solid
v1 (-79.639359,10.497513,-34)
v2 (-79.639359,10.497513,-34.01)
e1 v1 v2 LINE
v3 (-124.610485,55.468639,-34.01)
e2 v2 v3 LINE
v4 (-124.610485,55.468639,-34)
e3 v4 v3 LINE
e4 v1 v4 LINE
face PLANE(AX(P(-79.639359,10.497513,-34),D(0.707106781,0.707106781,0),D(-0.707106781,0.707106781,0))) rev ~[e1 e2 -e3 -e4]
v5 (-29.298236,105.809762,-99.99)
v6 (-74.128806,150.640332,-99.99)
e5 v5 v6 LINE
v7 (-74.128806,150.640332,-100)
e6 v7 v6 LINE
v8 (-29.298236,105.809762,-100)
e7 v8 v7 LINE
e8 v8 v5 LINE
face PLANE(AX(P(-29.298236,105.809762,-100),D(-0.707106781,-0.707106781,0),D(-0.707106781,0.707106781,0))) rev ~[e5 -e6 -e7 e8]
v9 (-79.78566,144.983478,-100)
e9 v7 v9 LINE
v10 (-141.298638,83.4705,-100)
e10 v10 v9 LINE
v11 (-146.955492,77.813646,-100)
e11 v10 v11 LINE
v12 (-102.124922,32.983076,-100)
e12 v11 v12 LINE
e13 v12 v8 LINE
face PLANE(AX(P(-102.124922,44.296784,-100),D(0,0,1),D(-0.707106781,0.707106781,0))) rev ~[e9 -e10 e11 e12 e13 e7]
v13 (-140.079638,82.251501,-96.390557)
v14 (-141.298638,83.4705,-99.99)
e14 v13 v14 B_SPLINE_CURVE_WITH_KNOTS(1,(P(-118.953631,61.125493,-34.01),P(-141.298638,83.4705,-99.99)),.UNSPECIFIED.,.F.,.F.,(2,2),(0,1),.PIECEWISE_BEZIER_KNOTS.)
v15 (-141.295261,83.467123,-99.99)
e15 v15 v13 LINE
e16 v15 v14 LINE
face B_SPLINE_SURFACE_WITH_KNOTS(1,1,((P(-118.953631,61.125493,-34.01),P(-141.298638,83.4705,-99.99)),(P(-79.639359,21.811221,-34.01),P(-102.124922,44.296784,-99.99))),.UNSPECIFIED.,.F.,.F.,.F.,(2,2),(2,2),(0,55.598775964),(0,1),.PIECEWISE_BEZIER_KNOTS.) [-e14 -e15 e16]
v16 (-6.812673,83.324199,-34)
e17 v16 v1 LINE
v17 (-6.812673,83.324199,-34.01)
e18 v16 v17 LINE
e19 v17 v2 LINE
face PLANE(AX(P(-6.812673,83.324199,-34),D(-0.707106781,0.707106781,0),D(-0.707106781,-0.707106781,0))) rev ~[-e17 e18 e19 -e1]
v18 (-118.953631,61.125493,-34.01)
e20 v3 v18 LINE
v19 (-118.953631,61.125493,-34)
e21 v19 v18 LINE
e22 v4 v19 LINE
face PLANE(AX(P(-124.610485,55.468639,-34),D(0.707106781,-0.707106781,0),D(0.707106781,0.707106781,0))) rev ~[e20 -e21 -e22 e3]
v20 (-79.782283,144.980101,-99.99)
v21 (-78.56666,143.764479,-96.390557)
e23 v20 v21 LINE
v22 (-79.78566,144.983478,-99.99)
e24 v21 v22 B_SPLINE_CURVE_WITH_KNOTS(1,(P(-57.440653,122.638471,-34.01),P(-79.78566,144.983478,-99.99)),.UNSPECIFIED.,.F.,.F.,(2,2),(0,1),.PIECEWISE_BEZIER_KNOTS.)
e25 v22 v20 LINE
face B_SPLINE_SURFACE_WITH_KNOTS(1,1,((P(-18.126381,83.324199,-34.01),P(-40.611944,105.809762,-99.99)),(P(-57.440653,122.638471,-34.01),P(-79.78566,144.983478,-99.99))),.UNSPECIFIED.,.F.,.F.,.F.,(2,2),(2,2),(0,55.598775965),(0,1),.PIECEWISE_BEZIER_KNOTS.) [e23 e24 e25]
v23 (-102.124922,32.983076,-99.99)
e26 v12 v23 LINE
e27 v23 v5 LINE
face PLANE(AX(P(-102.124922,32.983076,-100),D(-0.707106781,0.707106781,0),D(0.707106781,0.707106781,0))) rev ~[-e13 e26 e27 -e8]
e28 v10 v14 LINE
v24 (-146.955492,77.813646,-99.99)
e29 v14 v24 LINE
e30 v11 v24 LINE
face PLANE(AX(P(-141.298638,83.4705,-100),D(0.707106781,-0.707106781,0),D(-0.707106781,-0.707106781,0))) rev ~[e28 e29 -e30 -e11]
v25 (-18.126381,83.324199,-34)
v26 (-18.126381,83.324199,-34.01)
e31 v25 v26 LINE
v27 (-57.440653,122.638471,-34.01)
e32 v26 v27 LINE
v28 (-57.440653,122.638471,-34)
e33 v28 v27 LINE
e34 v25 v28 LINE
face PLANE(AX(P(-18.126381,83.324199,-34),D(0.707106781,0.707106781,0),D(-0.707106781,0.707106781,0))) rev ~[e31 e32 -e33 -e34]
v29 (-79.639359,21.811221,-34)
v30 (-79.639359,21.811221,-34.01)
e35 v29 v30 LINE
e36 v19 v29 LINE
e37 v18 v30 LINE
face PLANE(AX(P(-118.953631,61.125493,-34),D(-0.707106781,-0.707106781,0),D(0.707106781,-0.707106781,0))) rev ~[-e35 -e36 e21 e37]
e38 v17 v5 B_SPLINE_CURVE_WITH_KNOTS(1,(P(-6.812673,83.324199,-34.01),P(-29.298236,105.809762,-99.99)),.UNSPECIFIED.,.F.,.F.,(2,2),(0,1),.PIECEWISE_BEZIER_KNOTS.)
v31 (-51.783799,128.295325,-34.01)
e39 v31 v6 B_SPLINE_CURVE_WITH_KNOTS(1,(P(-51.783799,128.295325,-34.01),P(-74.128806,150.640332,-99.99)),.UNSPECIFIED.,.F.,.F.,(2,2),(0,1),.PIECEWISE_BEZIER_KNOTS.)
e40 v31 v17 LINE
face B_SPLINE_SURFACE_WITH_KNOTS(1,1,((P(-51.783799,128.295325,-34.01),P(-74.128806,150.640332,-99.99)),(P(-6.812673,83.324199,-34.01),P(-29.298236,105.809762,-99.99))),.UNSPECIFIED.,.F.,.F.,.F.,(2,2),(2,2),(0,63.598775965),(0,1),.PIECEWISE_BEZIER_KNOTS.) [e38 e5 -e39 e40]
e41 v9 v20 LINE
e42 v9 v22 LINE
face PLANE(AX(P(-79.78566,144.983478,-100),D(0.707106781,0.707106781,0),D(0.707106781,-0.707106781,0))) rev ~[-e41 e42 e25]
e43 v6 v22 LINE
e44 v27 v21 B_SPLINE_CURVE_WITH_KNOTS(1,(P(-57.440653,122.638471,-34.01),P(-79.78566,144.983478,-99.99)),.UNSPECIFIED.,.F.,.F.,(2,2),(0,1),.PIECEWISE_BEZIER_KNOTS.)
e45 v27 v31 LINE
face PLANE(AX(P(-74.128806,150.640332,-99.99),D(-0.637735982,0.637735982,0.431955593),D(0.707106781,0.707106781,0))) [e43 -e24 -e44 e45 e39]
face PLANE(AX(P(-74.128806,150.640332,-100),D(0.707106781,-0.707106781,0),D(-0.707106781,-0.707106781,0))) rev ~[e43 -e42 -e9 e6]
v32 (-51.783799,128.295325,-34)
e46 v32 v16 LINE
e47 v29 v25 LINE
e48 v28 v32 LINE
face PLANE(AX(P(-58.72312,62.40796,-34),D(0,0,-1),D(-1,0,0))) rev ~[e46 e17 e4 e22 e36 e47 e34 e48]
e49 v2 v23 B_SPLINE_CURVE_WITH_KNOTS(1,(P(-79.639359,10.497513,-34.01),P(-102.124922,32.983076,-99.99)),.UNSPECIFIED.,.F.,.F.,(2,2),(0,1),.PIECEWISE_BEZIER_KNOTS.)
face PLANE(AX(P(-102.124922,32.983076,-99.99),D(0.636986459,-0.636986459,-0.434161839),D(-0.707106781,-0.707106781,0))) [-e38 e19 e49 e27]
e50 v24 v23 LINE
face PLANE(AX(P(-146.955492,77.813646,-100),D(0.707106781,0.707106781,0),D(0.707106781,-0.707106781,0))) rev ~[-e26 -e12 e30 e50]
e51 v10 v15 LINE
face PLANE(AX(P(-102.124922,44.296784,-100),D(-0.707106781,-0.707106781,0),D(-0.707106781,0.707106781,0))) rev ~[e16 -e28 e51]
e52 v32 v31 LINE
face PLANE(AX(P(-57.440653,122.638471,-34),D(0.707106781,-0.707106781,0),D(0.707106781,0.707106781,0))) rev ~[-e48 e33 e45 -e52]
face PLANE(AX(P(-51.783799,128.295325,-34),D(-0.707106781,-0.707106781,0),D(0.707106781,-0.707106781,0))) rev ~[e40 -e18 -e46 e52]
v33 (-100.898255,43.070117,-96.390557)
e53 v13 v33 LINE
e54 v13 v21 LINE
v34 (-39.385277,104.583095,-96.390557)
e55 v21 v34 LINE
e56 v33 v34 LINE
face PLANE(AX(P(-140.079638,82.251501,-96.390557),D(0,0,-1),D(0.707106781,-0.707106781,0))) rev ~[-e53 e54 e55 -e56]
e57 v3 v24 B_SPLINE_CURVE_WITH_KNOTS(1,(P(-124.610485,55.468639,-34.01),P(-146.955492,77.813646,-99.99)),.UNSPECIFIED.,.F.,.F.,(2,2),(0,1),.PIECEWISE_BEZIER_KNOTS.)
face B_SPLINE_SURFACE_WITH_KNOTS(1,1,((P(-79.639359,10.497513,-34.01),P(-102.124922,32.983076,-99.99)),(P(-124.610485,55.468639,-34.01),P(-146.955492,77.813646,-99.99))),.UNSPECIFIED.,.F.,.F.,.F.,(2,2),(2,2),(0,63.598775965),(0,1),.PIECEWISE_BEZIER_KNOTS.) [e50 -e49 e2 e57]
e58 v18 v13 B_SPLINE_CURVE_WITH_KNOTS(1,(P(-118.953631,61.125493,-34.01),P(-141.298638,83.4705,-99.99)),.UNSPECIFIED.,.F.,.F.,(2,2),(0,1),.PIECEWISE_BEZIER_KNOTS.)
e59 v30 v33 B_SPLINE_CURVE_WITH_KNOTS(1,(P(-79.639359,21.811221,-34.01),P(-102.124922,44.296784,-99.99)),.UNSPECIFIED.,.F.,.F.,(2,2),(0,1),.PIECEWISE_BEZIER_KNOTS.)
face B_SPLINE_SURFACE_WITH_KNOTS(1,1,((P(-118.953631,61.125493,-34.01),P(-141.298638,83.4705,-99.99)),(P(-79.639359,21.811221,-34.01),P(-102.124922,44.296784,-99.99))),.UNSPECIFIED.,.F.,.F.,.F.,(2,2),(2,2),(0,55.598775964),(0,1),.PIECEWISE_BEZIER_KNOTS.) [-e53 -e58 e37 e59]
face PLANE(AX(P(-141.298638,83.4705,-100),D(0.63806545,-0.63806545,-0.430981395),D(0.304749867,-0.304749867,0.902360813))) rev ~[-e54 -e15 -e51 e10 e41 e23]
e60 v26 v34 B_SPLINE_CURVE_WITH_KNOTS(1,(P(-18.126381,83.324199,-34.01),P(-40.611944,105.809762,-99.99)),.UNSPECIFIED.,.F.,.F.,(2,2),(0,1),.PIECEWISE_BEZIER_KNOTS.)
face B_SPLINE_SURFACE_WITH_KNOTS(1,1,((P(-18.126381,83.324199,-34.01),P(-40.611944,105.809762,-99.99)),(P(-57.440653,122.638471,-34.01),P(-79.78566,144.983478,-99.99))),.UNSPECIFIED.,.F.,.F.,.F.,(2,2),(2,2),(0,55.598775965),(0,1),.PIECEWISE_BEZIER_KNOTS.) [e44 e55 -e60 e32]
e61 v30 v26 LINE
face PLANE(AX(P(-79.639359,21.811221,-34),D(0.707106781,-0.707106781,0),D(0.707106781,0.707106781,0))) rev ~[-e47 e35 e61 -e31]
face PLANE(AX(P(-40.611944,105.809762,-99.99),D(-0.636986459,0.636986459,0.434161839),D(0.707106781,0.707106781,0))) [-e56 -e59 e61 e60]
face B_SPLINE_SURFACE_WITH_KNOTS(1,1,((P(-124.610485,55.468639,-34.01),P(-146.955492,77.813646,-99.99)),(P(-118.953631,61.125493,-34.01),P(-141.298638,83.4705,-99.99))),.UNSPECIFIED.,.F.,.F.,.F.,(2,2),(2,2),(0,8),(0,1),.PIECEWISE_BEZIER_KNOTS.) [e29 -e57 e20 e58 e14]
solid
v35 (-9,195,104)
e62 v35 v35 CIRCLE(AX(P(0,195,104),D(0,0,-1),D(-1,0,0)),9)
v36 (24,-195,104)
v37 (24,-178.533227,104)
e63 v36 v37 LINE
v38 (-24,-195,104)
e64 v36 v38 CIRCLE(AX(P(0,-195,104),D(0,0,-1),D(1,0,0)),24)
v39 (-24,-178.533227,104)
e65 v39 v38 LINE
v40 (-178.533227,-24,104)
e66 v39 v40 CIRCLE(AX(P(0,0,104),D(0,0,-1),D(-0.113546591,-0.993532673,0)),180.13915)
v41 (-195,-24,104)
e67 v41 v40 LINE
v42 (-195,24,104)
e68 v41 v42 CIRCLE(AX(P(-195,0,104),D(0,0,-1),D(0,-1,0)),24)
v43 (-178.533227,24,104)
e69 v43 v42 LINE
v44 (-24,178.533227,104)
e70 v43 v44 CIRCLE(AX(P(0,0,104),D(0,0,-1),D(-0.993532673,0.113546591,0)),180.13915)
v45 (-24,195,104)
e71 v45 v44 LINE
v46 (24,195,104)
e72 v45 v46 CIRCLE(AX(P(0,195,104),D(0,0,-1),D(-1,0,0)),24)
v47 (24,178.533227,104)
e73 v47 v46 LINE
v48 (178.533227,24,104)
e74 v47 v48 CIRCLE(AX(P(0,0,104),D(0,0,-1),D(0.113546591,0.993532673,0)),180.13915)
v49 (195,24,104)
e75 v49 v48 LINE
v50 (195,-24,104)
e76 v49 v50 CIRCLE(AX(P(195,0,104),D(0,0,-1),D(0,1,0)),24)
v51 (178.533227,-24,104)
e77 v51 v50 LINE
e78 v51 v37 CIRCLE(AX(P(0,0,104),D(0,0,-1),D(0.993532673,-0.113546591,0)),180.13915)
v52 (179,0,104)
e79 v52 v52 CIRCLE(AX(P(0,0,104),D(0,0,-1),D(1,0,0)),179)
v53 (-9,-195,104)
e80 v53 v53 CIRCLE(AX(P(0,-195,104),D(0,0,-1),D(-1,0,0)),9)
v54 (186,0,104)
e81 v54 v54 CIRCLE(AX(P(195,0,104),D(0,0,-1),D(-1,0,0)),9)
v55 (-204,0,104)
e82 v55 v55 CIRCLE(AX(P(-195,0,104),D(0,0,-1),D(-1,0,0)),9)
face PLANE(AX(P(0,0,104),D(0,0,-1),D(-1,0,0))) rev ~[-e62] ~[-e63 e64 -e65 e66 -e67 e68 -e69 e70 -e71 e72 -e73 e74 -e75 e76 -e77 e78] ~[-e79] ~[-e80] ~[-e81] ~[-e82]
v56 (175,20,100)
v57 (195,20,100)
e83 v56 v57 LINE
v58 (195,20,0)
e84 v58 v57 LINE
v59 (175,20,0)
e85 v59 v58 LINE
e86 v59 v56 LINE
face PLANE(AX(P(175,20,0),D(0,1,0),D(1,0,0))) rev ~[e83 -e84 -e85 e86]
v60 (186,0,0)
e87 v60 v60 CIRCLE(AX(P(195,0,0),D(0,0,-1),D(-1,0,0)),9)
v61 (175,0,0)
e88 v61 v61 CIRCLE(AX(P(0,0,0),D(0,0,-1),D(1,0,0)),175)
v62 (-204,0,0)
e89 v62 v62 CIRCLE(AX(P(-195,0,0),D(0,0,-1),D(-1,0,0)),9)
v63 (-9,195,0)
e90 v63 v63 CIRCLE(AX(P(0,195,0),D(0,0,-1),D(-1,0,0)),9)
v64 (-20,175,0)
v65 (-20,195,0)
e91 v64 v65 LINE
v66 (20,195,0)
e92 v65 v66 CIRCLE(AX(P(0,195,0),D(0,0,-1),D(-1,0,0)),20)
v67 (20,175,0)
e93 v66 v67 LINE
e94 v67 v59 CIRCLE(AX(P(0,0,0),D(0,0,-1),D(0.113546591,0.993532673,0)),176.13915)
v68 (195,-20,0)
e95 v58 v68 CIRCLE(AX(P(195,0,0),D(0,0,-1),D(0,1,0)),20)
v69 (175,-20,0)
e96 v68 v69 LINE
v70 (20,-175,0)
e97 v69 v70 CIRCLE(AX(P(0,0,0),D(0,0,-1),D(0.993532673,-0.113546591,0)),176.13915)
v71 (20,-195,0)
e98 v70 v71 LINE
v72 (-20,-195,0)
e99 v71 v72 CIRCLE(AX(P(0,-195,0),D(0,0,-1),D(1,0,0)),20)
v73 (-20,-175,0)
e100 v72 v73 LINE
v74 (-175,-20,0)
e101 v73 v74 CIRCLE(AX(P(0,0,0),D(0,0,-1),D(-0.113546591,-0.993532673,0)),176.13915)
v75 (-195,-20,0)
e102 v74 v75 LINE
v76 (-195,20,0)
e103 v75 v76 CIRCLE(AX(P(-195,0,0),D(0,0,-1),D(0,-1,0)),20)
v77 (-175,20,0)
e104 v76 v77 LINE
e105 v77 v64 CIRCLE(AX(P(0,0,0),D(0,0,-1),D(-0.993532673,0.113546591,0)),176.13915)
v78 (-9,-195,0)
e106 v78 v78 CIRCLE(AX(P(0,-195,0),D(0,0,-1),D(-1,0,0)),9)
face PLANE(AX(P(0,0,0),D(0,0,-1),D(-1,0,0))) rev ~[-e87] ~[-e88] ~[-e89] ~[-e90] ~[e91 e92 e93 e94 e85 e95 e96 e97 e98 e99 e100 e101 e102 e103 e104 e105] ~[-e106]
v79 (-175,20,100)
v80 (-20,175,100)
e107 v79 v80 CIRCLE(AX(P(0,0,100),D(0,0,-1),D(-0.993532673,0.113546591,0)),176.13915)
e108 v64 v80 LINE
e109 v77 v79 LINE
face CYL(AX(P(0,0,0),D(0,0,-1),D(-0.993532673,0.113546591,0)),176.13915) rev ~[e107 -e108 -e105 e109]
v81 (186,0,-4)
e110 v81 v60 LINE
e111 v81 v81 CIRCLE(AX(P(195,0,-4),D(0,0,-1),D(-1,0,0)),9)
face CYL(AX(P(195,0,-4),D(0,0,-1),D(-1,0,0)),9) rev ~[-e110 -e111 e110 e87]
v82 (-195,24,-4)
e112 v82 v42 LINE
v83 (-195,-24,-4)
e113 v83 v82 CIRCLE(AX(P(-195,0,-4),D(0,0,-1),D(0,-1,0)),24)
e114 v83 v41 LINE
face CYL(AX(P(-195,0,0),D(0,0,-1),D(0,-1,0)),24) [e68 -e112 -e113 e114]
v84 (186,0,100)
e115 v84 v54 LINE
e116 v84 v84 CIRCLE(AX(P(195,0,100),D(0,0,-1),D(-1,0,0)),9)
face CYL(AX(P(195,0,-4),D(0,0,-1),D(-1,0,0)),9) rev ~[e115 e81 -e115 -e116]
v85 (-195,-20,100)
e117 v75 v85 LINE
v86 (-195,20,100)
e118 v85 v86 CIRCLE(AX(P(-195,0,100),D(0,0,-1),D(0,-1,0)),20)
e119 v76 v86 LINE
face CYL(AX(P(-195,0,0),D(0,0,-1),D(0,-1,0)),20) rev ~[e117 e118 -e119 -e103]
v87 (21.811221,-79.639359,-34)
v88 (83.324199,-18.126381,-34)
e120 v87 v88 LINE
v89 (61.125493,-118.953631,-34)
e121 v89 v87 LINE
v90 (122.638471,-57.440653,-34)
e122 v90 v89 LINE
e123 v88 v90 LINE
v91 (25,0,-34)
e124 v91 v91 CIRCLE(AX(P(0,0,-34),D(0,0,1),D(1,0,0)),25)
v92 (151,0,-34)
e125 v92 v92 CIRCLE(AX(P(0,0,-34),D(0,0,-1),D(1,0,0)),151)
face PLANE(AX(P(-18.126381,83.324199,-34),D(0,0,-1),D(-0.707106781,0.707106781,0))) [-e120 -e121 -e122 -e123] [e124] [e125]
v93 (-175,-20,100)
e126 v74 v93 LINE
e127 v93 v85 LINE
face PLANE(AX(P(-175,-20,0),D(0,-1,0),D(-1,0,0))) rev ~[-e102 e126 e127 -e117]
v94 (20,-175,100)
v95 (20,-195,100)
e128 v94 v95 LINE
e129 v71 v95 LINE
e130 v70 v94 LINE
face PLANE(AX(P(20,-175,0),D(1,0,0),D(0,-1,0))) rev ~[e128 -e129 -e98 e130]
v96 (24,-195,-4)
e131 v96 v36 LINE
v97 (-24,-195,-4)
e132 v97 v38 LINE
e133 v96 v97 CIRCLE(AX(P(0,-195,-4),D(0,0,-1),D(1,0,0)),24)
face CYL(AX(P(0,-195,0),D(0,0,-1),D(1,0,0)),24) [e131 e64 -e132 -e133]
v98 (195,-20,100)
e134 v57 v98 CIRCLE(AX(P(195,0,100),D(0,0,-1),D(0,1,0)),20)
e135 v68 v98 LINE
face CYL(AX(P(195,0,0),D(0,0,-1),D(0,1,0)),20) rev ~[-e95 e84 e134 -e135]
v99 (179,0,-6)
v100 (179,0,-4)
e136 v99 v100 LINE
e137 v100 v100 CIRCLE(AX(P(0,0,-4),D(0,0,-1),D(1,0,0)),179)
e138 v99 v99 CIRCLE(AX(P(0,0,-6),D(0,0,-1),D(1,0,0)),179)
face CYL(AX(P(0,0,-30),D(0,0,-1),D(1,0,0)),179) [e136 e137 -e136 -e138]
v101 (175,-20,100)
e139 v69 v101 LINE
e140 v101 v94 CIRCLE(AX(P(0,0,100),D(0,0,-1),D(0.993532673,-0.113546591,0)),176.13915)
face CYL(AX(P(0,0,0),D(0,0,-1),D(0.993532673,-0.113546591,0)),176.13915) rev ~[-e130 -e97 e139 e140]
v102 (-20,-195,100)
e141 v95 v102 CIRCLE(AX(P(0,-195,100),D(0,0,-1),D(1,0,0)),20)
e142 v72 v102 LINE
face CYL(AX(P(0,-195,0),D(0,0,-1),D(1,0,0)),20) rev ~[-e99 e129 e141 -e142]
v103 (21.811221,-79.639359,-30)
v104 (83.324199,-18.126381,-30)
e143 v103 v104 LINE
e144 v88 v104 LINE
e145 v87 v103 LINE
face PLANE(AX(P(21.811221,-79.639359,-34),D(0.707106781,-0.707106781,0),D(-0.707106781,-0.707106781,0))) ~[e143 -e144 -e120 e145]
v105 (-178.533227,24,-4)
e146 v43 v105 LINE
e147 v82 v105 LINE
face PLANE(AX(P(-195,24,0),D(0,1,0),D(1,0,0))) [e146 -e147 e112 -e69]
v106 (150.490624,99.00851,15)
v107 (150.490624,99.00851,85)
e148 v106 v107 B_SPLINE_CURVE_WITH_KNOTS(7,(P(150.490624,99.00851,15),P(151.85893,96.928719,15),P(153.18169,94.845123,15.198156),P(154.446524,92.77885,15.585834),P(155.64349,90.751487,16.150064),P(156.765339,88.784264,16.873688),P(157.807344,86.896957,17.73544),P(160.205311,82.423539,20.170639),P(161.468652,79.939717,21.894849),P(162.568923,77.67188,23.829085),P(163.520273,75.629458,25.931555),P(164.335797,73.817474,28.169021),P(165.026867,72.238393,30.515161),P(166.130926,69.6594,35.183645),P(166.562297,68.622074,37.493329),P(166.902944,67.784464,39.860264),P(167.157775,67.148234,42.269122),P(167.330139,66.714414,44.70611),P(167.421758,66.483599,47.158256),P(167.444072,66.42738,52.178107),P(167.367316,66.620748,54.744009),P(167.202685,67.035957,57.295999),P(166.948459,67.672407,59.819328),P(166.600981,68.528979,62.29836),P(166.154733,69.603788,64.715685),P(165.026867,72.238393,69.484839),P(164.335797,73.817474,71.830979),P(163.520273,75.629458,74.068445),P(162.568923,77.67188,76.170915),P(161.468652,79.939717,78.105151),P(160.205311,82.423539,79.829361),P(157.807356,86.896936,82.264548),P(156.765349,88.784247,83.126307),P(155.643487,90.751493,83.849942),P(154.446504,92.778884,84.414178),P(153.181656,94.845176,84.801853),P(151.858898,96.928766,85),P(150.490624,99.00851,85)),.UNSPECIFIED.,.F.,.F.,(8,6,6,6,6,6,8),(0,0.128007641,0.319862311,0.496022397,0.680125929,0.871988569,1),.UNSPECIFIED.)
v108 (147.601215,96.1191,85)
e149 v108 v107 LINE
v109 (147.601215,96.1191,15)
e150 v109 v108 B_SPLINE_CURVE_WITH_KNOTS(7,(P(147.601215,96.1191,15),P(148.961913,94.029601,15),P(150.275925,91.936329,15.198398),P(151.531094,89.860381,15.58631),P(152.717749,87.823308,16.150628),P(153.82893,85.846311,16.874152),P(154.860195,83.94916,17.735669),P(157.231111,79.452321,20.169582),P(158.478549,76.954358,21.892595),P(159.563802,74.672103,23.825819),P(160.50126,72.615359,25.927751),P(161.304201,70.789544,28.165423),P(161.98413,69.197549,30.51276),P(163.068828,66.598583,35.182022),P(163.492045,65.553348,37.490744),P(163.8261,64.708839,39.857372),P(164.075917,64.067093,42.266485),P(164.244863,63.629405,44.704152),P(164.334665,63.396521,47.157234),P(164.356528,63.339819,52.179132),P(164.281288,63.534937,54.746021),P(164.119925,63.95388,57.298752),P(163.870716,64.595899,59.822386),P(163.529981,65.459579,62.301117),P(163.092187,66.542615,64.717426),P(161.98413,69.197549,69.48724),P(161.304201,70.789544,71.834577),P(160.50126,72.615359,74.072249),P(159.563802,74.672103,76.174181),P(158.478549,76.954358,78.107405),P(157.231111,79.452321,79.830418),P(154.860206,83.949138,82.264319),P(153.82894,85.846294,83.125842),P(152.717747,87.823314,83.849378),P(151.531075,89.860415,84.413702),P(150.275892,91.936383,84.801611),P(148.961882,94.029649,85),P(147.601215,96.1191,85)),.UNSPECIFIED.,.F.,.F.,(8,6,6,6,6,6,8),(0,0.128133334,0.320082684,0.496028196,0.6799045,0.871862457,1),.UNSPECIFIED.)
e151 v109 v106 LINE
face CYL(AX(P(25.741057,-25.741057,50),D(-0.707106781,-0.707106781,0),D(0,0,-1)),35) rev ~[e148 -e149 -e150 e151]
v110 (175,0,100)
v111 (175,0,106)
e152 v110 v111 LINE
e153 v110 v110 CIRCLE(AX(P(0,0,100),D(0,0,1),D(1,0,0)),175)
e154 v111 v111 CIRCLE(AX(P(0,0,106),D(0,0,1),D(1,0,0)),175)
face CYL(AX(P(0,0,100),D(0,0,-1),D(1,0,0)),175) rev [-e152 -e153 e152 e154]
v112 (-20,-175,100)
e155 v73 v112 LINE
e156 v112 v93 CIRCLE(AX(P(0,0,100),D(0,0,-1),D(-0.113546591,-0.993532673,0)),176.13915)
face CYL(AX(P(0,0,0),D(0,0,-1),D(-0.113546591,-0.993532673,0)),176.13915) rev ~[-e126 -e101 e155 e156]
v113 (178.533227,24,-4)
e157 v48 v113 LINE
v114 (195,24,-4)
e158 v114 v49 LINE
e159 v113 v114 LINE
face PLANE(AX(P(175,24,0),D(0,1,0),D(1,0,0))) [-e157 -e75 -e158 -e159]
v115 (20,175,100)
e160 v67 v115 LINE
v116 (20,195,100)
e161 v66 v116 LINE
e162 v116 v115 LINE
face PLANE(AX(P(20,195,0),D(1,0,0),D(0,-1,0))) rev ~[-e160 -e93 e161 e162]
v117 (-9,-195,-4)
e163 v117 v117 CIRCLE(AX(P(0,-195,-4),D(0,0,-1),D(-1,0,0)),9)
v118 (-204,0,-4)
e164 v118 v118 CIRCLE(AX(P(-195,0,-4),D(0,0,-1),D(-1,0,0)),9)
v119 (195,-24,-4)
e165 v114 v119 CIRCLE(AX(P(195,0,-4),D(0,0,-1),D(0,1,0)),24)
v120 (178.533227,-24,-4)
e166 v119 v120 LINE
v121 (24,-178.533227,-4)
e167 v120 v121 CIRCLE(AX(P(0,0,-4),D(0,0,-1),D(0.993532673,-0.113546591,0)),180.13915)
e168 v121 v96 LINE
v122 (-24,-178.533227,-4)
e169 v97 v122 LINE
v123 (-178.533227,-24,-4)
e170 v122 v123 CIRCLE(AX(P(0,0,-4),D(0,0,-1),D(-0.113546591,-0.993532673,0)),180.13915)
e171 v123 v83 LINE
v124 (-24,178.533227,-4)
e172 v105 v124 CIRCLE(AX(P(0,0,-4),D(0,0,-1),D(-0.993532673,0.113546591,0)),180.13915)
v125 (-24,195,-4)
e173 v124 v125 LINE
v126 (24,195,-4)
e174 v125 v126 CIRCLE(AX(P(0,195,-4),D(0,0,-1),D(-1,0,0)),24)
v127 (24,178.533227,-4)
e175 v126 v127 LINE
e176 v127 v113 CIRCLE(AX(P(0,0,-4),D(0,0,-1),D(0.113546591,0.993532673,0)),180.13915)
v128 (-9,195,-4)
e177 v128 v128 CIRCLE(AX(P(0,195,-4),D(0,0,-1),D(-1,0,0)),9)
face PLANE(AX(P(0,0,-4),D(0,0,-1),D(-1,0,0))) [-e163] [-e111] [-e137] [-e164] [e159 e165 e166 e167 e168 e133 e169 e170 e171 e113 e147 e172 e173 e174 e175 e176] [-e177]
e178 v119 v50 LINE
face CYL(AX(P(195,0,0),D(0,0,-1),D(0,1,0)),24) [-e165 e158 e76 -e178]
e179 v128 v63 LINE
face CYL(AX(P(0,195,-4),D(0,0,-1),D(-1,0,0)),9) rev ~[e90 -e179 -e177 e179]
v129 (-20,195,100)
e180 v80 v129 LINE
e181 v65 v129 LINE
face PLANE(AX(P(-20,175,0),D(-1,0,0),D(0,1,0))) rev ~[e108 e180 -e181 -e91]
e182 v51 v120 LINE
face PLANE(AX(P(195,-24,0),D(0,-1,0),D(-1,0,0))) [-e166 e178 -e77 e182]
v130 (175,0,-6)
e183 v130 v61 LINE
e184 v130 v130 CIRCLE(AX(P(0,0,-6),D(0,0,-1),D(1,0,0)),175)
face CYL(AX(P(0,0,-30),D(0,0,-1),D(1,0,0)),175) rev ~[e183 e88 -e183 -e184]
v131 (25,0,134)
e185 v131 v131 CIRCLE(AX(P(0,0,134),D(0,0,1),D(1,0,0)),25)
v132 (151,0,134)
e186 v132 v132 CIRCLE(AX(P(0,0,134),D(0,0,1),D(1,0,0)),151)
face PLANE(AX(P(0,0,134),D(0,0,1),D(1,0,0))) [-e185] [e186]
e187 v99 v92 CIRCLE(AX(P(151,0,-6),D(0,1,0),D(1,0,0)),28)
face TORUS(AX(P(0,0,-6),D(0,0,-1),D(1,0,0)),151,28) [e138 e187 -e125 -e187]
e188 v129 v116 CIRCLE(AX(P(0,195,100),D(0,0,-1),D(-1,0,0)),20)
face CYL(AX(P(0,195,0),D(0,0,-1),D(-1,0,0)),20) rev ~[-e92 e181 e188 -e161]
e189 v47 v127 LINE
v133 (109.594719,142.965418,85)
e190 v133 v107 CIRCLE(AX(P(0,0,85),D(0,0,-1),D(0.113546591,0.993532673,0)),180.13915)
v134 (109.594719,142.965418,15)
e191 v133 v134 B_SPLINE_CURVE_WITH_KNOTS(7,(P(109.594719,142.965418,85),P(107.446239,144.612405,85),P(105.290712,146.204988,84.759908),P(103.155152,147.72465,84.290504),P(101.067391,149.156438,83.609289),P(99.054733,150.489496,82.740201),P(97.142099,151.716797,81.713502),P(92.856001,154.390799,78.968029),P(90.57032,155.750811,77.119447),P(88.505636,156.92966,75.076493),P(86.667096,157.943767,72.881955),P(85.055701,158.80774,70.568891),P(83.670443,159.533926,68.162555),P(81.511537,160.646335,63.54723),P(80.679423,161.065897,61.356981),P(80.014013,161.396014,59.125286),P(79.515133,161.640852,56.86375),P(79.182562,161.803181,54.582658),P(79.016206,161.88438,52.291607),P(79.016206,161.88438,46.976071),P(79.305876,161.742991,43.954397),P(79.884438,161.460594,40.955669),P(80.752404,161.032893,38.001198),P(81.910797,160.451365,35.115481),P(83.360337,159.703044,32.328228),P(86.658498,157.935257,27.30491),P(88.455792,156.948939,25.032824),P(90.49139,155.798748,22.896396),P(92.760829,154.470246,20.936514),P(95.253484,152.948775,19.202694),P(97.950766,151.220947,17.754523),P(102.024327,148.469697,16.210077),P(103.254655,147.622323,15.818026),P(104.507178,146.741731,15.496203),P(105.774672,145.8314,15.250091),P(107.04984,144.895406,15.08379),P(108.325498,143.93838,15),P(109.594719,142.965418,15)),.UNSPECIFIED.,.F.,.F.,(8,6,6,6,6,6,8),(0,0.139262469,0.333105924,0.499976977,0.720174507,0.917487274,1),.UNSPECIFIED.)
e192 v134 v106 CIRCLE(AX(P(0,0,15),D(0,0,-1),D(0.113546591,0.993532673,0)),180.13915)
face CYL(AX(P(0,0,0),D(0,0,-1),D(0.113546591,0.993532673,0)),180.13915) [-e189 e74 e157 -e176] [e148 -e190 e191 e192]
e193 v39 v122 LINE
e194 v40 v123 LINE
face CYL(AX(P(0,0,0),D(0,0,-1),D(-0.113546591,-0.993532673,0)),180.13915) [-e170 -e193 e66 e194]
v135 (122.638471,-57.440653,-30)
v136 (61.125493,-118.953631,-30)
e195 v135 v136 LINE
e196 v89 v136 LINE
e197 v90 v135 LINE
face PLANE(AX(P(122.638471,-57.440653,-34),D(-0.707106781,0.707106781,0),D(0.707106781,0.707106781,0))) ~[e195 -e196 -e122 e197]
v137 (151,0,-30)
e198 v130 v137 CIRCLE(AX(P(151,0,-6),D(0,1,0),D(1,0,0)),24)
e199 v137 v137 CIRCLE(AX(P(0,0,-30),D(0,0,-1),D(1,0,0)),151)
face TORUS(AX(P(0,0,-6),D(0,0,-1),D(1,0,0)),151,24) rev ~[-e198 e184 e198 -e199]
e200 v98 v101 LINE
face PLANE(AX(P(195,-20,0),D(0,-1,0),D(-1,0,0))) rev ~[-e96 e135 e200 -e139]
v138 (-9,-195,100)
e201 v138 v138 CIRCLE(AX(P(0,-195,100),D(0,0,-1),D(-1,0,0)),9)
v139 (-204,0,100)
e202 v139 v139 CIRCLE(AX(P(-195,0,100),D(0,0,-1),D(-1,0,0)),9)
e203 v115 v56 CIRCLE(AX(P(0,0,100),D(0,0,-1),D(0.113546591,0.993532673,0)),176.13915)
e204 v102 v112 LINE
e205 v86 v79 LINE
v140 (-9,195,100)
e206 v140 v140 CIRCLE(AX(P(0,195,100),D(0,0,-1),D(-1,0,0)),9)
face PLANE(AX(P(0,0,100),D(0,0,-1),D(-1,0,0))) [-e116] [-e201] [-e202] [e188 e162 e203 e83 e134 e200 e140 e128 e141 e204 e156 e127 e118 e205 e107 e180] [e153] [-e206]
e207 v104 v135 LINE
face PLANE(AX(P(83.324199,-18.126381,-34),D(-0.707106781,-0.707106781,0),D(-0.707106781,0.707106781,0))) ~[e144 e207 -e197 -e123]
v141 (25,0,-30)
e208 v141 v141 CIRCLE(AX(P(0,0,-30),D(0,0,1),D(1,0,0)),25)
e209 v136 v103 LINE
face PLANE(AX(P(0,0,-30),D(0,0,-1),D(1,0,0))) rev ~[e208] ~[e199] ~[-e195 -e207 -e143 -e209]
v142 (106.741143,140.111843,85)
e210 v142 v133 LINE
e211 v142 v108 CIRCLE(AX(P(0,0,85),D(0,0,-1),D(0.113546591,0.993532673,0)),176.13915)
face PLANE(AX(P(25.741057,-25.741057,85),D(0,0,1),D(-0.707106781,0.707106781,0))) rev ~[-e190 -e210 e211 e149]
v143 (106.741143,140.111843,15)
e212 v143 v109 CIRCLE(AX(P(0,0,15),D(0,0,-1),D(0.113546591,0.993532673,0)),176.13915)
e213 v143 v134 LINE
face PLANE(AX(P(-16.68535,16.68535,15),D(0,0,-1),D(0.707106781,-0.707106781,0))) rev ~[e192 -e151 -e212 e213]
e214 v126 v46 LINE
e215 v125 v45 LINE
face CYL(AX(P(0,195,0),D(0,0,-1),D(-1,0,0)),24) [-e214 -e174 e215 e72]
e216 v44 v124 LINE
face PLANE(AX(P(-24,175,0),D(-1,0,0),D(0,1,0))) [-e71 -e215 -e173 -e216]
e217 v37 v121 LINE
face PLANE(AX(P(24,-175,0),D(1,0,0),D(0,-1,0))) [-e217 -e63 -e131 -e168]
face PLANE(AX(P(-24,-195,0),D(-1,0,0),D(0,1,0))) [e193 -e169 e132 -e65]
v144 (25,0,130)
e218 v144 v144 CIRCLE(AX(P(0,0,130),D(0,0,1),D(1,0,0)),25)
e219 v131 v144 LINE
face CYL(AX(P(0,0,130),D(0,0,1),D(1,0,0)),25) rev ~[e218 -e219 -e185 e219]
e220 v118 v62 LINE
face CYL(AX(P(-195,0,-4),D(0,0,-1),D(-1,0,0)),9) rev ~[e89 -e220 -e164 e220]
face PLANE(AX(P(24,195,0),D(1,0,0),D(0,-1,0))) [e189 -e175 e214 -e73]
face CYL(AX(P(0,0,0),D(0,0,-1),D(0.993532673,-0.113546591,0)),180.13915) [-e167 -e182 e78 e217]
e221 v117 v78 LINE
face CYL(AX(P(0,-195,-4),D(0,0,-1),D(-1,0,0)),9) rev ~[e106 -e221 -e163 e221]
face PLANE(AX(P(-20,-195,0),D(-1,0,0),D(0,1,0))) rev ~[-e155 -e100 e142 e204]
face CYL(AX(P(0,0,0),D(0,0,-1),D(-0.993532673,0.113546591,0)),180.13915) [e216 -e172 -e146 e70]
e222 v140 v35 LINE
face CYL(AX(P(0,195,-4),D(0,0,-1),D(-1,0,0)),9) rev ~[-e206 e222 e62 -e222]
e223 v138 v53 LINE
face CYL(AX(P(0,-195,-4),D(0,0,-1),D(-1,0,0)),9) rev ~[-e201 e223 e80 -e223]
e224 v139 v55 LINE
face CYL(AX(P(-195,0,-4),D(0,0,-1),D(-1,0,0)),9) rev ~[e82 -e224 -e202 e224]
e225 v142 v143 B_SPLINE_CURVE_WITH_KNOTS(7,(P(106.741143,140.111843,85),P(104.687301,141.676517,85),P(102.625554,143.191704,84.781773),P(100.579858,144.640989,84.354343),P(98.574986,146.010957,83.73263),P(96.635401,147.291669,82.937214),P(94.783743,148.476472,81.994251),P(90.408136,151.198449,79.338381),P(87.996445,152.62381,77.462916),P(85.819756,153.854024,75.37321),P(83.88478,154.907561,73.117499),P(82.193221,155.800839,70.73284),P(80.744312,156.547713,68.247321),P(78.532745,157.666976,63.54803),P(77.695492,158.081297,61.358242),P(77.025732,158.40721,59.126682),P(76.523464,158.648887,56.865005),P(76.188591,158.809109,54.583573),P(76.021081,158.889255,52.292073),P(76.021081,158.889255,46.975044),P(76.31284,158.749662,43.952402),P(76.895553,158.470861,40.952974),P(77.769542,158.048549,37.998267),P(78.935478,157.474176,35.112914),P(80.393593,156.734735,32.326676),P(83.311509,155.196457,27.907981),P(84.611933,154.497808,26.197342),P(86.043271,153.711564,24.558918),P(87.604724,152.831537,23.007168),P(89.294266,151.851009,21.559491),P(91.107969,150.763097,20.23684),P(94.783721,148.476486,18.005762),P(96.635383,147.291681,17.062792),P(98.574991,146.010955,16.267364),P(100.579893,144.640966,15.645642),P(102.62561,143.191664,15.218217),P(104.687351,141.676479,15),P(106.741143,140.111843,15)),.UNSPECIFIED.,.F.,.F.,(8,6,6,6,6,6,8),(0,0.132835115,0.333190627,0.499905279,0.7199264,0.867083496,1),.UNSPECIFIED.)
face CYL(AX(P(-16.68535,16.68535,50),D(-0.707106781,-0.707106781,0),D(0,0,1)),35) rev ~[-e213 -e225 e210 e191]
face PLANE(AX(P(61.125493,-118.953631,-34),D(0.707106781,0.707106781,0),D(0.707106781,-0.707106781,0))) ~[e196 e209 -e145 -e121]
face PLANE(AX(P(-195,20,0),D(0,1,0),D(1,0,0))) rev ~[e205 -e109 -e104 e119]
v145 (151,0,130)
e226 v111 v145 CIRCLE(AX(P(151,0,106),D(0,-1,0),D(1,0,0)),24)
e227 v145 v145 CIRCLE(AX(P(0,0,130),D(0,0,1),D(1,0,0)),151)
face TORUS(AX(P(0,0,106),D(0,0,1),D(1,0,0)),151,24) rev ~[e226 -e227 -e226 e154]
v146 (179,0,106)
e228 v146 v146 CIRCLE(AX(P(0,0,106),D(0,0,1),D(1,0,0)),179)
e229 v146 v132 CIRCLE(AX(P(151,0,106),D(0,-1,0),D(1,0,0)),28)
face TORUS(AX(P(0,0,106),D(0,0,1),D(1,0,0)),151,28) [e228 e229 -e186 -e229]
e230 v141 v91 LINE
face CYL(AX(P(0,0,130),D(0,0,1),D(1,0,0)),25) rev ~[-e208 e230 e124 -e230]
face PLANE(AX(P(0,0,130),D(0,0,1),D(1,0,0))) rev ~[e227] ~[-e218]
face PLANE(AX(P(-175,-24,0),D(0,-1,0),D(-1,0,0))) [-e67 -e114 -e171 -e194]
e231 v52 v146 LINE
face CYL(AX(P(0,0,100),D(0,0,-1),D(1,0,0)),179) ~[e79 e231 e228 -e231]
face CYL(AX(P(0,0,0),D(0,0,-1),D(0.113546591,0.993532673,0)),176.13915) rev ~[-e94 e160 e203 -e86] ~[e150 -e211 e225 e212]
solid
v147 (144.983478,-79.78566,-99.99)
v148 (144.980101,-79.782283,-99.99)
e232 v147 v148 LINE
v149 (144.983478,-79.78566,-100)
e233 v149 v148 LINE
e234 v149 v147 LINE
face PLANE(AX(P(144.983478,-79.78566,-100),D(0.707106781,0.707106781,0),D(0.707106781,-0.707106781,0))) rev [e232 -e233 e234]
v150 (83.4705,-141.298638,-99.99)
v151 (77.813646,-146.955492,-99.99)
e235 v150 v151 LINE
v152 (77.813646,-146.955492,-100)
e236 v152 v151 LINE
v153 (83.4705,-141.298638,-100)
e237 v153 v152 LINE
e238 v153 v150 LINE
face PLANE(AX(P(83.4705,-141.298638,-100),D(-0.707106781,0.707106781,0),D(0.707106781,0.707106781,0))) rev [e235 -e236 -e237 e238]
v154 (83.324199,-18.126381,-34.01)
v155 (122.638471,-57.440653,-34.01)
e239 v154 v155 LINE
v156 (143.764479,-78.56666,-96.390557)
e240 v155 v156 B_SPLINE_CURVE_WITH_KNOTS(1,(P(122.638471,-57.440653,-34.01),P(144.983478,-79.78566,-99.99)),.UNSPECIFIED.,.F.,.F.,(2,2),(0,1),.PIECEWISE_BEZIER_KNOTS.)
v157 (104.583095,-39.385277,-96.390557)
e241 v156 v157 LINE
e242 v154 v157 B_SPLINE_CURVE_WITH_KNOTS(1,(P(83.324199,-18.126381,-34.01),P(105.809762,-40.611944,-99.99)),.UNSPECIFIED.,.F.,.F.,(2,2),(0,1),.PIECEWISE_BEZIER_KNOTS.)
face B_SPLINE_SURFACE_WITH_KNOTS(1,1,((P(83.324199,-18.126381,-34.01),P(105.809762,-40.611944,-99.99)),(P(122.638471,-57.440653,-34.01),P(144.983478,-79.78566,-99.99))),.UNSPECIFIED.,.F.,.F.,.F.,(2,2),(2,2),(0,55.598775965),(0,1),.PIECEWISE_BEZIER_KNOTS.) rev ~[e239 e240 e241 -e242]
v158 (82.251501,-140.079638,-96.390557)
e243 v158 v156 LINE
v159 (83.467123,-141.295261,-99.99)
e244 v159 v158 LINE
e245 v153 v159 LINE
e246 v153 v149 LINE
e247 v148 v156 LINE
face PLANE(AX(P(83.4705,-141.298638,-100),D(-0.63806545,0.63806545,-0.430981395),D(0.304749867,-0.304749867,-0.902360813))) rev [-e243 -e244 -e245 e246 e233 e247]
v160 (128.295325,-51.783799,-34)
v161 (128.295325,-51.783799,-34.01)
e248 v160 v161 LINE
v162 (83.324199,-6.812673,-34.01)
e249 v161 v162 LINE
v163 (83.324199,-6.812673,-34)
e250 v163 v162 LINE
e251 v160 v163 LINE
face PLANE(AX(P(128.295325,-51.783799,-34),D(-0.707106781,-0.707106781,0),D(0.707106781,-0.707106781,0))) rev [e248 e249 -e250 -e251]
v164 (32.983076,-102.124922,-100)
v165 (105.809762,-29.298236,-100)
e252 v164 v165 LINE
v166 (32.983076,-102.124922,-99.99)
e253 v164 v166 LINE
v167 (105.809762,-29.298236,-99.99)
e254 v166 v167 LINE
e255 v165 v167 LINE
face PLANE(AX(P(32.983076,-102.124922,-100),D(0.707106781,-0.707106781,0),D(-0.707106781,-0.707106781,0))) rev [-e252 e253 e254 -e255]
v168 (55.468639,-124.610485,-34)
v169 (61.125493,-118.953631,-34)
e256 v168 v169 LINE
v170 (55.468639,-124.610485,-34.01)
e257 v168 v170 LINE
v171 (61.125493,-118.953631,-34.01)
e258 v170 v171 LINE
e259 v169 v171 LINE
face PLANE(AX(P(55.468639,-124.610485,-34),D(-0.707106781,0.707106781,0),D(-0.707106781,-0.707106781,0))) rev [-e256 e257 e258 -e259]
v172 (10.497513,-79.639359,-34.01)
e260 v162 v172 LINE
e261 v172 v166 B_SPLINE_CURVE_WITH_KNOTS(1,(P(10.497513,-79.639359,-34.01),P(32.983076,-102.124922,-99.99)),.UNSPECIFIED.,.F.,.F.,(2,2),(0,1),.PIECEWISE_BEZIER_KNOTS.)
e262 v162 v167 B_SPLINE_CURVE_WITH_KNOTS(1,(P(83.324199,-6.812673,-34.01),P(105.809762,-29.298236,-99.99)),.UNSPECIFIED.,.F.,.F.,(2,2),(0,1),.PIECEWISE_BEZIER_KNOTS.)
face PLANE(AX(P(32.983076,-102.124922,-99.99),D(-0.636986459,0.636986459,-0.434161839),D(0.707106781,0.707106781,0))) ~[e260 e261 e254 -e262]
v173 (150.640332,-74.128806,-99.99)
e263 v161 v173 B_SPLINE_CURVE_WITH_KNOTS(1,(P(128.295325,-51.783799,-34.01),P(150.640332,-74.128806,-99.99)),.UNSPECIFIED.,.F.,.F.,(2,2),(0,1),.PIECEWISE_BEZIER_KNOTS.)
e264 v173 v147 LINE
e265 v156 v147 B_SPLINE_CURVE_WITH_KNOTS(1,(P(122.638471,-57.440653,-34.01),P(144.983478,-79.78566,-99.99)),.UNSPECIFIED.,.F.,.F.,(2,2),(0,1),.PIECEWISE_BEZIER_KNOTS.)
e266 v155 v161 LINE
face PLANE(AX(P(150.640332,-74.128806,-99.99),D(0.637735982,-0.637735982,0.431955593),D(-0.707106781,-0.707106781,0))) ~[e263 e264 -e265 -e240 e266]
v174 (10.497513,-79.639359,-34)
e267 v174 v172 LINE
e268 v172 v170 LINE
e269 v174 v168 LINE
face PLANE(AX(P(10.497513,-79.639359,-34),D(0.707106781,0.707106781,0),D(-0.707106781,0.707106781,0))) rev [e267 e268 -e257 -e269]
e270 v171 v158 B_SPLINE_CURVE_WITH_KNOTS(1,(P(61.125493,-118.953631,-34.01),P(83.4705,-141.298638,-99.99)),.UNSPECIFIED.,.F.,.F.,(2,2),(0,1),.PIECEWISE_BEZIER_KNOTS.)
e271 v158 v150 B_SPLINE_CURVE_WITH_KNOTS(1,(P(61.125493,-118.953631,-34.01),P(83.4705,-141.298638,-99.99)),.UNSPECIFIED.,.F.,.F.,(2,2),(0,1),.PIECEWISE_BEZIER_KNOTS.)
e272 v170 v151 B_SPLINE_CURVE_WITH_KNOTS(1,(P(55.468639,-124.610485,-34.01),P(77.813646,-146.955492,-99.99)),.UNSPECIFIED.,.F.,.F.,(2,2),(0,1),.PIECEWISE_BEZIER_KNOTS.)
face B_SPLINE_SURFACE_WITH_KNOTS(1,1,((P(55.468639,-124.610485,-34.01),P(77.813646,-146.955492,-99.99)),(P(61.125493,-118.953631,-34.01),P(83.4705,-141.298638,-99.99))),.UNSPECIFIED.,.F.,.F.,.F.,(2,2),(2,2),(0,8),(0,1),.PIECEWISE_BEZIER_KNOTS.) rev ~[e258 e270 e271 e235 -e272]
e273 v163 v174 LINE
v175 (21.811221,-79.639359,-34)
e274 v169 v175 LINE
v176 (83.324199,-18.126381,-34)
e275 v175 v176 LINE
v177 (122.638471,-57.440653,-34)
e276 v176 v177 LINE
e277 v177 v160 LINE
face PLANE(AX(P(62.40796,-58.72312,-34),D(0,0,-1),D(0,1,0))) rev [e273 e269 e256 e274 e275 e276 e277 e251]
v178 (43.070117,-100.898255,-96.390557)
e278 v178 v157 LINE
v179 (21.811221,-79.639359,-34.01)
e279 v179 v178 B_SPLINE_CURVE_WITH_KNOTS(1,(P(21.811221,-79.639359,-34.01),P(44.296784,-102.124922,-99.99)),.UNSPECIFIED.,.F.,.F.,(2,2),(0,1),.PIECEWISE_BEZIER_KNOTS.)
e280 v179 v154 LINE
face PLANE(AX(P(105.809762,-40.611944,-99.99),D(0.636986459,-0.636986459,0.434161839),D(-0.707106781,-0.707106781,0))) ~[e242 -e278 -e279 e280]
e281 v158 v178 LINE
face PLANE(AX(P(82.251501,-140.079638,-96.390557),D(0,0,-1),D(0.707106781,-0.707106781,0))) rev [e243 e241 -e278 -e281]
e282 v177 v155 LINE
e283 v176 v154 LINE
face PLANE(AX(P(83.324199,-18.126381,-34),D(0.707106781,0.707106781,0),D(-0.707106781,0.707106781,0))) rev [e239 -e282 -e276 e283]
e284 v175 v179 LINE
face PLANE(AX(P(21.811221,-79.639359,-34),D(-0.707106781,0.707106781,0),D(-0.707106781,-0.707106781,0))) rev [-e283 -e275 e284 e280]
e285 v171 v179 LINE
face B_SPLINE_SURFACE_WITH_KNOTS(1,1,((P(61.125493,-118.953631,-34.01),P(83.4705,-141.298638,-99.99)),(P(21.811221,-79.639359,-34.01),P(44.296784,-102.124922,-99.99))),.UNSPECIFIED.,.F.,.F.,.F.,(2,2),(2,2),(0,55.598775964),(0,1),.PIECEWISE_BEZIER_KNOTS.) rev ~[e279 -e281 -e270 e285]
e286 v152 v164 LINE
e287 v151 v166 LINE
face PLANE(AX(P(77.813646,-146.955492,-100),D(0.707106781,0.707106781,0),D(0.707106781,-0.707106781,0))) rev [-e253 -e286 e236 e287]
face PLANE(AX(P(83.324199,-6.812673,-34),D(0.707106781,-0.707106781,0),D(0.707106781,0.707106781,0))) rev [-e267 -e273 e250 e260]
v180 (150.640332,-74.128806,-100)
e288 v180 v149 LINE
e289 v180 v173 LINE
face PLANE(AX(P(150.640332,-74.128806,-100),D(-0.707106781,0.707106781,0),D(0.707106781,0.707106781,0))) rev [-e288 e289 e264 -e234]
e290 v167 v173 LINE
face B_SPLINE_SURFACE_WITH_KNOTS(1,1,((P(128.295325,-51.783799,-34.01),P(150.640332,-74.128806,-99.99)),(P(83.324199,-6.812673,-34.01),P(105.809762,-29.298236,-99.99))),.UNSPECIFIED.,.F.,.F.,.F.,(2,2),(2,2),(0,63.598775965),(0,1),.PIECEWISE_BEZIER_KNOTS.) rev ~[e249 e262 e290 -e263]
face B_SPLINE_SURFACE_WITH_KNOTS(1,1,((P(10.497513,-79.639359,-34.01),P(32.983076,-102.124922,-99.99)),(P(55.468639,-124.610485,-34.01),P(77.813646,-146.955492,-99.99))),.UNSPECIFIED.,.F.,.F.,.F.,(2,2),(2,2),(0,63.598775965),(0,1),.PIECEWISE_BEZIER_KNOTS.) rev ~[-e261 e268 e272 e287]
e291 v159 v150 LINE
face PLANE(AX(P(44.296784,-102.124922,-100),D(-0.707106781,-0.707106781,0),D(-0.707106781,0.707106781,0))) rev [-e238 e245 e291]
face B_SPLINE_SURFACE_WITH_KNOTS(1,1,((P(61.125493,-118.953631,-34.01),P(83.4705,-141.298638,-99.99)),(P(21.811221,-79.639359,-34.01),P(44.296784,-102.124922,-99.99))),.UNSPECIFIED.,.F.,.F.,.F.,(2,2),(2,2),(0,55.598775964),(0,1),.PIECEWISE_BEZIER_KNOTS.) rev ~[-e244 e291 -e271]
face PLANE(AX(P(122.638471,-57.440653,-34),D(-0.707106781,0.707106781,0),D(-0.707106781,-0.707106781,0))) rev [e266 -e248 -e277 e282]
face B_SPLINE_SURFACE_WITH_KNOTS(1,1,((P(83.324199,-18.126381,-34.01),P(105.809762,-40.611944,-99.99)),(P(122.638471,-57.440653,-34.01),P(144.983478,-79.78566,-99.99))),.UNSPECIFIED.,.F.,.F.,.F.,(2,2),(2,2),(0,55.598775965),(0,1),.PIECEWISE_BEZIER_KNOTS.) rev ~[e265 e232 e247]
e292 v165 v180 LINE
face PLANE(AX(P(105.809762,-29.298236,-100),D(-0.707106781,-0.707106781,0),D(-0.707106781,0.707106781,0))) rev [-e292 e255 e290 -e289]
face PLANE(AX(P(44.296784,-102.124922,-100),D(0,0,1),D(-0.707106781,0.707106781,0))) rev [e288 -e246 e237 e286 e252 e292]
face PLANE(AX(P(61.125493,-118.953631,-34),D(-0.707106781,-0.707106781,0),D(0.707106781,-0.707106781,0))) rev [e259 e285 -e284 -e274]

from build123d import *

# Parameters (mm, degrees)
BOSS_EXTRUDE1_DEPTH = 100
SKETCH3_R           = 175
BOSS_EXTRUDE2_DEPTH = 30
BOSS_EXTRUDE3_START = 30
SKETCH4_R           = 175
BOSS_EXTRUDE3_DEPTH = 30
FILLET1_R           = 24
SKETCH5_R           = 25
CUT_EXTRUDE2_DEPTH  = 344.584050852
SHELL7_T            = 4
CUT_EXTRUDE3_DEPTH  = 338.458145553
SKETCH14_R          = 9
CUT_EXTRUDE4_DEPTH  = 340.066365185
CUT_EXTRUDE5_DEPTH  = 50
BOSS_EXTRUDE4_DEPTH = 0.01
BOSS_EXTRUDE5_DEPTH = 0.01
BOSS_EXTRUDE6_DEPTH = 86.992488
BOSS_EXTRUDE7_REACH = 382.21
SKETCH22_W          = 4
SKETCH22_H          = 55.598775965


with BuildPart() as part:
    # Sketch1 → Boss-Extrude1 (new body)
    with BuildSketch(Plane.XY):
        with BuildLine():
            Line((175, 20), (195, 20))
            ThreePointArc((195, 20), (215, 0), (195, -20))
            Line((195, -20), (175, -20))
            ThreePointArc((175, -20), (124.549187071, -124.549187071), (20, -175))
            Line((20, -175), (20, -195))
            ThreePointArc((20, -195), (0, -215), (-20, -195))
            Line((-20, -195), (-20, -175))
            ThreePointArc((-20, -175), (-124.549187071, -124.549187071), (-175, -20))
            Line((-175, -20), (-195, -20))
            ThreePointArc((-195, -20), (-215, 0), (-195, 20))
            Line((-195, 20), (-175, 20))
            ThreePointArc((-175, 20), (-124.549187071, 124.549187071), (-20, 175))
            Line((-20, 175), (-20, 195))
            ThreePointArc((-20, 195), (0, 215), (20, 195))
            Line((20, 195), (20, 175))
            ThreePointArc((20, 175), (124.549187071, 124.549187071), (175, 20))
        make_face()
    extrude(amount=BOSS_EXTRUDE1_DEPTH)

    # Sketch3 → Boss-Extrude2 (add)
    with BuildSketch(Plane.XY.offset(100)):
        Circle(SKETCH3_R)
    extrude(amount=BOSS_EXTRUDE2_DEPTH)

    # Sketch4 → Boss-Extrude3 (add)
    with BuildSketch(Plane(origin=(0, 0, 0), x_dir=(-1, 0, 0), z_dir=(0, 0, -1)).offset(BOSS_EXTRUDE3_START)):
        with Locations(Location((0, 0, 0), (0, 0, 180))):
            Circle(SKETCH4_R)
    extrude(amount=-BOSS_EXTRUDE3_DEPTH)

    # Fillet1
    fillet1_edges = [part.edges().sort_by_distance(p)[0] for p in [
        (-175, 0, 130),
        (-175, 0, -30),
    ]]
    fillet(fillet1_edges, radius=FILLET1_R)

    # Sketch5 → Cut-Extrude2 (cut, through all)
    with BuildSketch(Plane.XY.offset(130)):
        Circle(SKETCH5_R)
    extrude(amount=-CUT_EXTRUDE2_DEPTH, mode=Mode.SUBTRACT)

    # Shell7
    shell7_openings = [part.faces().sort_by_distance(p)[0] for p in [
        (-25, 0, 50),
    ]]
    offset(amount=SHELL7_T, openings=shell7_openings, kind=Kind.INTERSECTION)

    # Sketch11<2> → Cut-Extrude3 (cut, through all)
    with BuildSketch(Plane(origin=(0, 0, 0), x_dir=(0, 0, -1), z_dir=(0.7071067811865464, 0.7071067811865488, 0))):
        with BuildLine():
            Line((-15, 23.596648043), (-15, -36.403351957))
            ThreePointArc((-15, -36.403351957), (-50, -71.403351957), (-85, -36.403351957))
            Line((-85, -36.403351957), (-85, 23.596648043))
            ThreePointArc((-85, 23.596648043), (-50, 58.596648043), (-15, 23.596648043))
        make_face()
    extrude(amount=CUT_EXTRUDE3_DEPTH, mode=Mode.SUBTRACT)

    # Sketch14 → Cut-Extrude4 (cut, through all)
    with BuildSketch(Plane(origin=(0, 0, -4), x_dir=(-1, 0, 0), z_dir=(0, 0, -1))):
        with Locations((0, 195)):
            Circle(SKETCH14_R)
        with Locations((195, 0)):
            Circle(SKETCH14_R)
        with Locations((0, -195)):
            Circle(SKETCH14_R)
        with Locations((-195, 0)):
            Circle(SKETCH14_R)
    extrude(amount=-CUT_EXTRUDE4_DEPTH, mode=Mode.SUBTRACT)

    # Sketch16 → Cut-Extrude5 (cut)
    with BuildSketch(Plane(origin=(0, 0, -34), x_dir=(-1, 0, 0), z_dir=(0, 0, -1))):
        Polygon((57.440652839, 122.638470914), (118.953630829, 61.125492923), (79.639359319, 21.811221413), (18.126381328, 83.324199404), align=None)
    cut_extrude5 = extrude(amount=-CUT_EXTRUDE5_DEPTH, mode=Mode.SUBTRACT)

    # Mirror2: Cut-Extrude5 across plane
    add(cut_extrude5.mirror(Plane(origin=(0, 0, 0), x_dir=(0, 0, 1), z_dir=(-0.7071067811865488, 0.7071067811865464, 0))), mode=Mode.SUBTRACT)

    # Sketch22 → Boss-Extrude7 (add, up to next)
    with BuildSketch(Plane(origin=(32.598909038, 32.598909038, 0), x_dir=(0, 0, 1), z_dir=(-0.7071067811865565, -0.7071067811865387, 0)), mode=Mode.PRIVATE) as boss_extrude7_sk1:
        with Locations((-32, 99.535781574)):
            Rectangle(SKETCH22_W, SKETCH22_H)
    boss_extrude7_tool1 = extrude(boss_extrude7_sk1.sketch, amount=BOSS_EXTRUDE7_REACH, mode=Mode.PRIVATE) - part.part
    add(boss_extrude7_tool1.solids().sort_by_distance((-37.783517, 102.981335, -32))[0])


with BuildPart() as body_2:
    # Sketch18 → Boss-Extrude4 (new body)
    with BuildSketch(Plane.XY.offset(-100)):
        Polygon((-29.298235709, 105.809762284), (-74.128805636, 150.640332211), (-79.785659886, 144.983477961), (-40.611944208, 105.809762284), (-102.124922199, 44.296784293), (-141.298637877, 83.470499971), (-146.955492126, 77.813645721), (-102.124922199, 32.983075794), align=None)
    extrude(amount=BOSS_EXTRUDE4_DEPTH)


with BuildPart() as body_3:
    # Sketch17 → Boss-Extrude5 (new body)
    with BuildSketch(Plane(origin=(0, 0, -34), x_dir=(-1, 0, 0), z_dir=(0, 0, -1))):
        Polygon((57.440652839, 122.638470914), (51.783798589, 128.295325164), (6.812672829, 83.324199404), (79.639359319, 10.497512914), (124.610485079, 55.468638674), (118.953630829, 61.125492923), (79.639359319, 21.811221413), (18.126381328, 83.324199404), align=None)
    extrude(amount=BOSS_EXTRUDE5_DEPTH)


    add(body_2.part)  # loft1 joins it to this body
    # loft from a face of the part (loft1)
    loft([body_3.faces().sort_by_distance((-53.434247591, 124.288919916, -34.01))[0], body_3.faces().sort_by_distance((-52.890093237, 127.048474683, -99.99))[0]])

    # Sketch19 → Boss-Extrude6 (add)
    with BuildSketch(Plane(origin=(-28.914068953, -28.914068953, 0), x_dir=(0, 0, -1), z_dir=(0.7071067811865566, 0.7071067811865385, 0))):
        Polygon((100, 158.935781573), (96.390556747, 157.211855994), (96.390556747, 101.801012059), (100, 103.535781573), align=None)
    extrude(amount=BOSS_EXTRUDE6_DEPTH)


with BuildPart() as body_3_2:
    # Mirror1: mirrored copy
    add(body_3.part.mirror(Plane(origin=(0, 0, 0), x_dir=(0, 0, 1), z_dir=(-0.7071067811865488, 0.7071067811865464, 0))))


solid = Compound([part.part, body_3.part, body_3_2.part])
